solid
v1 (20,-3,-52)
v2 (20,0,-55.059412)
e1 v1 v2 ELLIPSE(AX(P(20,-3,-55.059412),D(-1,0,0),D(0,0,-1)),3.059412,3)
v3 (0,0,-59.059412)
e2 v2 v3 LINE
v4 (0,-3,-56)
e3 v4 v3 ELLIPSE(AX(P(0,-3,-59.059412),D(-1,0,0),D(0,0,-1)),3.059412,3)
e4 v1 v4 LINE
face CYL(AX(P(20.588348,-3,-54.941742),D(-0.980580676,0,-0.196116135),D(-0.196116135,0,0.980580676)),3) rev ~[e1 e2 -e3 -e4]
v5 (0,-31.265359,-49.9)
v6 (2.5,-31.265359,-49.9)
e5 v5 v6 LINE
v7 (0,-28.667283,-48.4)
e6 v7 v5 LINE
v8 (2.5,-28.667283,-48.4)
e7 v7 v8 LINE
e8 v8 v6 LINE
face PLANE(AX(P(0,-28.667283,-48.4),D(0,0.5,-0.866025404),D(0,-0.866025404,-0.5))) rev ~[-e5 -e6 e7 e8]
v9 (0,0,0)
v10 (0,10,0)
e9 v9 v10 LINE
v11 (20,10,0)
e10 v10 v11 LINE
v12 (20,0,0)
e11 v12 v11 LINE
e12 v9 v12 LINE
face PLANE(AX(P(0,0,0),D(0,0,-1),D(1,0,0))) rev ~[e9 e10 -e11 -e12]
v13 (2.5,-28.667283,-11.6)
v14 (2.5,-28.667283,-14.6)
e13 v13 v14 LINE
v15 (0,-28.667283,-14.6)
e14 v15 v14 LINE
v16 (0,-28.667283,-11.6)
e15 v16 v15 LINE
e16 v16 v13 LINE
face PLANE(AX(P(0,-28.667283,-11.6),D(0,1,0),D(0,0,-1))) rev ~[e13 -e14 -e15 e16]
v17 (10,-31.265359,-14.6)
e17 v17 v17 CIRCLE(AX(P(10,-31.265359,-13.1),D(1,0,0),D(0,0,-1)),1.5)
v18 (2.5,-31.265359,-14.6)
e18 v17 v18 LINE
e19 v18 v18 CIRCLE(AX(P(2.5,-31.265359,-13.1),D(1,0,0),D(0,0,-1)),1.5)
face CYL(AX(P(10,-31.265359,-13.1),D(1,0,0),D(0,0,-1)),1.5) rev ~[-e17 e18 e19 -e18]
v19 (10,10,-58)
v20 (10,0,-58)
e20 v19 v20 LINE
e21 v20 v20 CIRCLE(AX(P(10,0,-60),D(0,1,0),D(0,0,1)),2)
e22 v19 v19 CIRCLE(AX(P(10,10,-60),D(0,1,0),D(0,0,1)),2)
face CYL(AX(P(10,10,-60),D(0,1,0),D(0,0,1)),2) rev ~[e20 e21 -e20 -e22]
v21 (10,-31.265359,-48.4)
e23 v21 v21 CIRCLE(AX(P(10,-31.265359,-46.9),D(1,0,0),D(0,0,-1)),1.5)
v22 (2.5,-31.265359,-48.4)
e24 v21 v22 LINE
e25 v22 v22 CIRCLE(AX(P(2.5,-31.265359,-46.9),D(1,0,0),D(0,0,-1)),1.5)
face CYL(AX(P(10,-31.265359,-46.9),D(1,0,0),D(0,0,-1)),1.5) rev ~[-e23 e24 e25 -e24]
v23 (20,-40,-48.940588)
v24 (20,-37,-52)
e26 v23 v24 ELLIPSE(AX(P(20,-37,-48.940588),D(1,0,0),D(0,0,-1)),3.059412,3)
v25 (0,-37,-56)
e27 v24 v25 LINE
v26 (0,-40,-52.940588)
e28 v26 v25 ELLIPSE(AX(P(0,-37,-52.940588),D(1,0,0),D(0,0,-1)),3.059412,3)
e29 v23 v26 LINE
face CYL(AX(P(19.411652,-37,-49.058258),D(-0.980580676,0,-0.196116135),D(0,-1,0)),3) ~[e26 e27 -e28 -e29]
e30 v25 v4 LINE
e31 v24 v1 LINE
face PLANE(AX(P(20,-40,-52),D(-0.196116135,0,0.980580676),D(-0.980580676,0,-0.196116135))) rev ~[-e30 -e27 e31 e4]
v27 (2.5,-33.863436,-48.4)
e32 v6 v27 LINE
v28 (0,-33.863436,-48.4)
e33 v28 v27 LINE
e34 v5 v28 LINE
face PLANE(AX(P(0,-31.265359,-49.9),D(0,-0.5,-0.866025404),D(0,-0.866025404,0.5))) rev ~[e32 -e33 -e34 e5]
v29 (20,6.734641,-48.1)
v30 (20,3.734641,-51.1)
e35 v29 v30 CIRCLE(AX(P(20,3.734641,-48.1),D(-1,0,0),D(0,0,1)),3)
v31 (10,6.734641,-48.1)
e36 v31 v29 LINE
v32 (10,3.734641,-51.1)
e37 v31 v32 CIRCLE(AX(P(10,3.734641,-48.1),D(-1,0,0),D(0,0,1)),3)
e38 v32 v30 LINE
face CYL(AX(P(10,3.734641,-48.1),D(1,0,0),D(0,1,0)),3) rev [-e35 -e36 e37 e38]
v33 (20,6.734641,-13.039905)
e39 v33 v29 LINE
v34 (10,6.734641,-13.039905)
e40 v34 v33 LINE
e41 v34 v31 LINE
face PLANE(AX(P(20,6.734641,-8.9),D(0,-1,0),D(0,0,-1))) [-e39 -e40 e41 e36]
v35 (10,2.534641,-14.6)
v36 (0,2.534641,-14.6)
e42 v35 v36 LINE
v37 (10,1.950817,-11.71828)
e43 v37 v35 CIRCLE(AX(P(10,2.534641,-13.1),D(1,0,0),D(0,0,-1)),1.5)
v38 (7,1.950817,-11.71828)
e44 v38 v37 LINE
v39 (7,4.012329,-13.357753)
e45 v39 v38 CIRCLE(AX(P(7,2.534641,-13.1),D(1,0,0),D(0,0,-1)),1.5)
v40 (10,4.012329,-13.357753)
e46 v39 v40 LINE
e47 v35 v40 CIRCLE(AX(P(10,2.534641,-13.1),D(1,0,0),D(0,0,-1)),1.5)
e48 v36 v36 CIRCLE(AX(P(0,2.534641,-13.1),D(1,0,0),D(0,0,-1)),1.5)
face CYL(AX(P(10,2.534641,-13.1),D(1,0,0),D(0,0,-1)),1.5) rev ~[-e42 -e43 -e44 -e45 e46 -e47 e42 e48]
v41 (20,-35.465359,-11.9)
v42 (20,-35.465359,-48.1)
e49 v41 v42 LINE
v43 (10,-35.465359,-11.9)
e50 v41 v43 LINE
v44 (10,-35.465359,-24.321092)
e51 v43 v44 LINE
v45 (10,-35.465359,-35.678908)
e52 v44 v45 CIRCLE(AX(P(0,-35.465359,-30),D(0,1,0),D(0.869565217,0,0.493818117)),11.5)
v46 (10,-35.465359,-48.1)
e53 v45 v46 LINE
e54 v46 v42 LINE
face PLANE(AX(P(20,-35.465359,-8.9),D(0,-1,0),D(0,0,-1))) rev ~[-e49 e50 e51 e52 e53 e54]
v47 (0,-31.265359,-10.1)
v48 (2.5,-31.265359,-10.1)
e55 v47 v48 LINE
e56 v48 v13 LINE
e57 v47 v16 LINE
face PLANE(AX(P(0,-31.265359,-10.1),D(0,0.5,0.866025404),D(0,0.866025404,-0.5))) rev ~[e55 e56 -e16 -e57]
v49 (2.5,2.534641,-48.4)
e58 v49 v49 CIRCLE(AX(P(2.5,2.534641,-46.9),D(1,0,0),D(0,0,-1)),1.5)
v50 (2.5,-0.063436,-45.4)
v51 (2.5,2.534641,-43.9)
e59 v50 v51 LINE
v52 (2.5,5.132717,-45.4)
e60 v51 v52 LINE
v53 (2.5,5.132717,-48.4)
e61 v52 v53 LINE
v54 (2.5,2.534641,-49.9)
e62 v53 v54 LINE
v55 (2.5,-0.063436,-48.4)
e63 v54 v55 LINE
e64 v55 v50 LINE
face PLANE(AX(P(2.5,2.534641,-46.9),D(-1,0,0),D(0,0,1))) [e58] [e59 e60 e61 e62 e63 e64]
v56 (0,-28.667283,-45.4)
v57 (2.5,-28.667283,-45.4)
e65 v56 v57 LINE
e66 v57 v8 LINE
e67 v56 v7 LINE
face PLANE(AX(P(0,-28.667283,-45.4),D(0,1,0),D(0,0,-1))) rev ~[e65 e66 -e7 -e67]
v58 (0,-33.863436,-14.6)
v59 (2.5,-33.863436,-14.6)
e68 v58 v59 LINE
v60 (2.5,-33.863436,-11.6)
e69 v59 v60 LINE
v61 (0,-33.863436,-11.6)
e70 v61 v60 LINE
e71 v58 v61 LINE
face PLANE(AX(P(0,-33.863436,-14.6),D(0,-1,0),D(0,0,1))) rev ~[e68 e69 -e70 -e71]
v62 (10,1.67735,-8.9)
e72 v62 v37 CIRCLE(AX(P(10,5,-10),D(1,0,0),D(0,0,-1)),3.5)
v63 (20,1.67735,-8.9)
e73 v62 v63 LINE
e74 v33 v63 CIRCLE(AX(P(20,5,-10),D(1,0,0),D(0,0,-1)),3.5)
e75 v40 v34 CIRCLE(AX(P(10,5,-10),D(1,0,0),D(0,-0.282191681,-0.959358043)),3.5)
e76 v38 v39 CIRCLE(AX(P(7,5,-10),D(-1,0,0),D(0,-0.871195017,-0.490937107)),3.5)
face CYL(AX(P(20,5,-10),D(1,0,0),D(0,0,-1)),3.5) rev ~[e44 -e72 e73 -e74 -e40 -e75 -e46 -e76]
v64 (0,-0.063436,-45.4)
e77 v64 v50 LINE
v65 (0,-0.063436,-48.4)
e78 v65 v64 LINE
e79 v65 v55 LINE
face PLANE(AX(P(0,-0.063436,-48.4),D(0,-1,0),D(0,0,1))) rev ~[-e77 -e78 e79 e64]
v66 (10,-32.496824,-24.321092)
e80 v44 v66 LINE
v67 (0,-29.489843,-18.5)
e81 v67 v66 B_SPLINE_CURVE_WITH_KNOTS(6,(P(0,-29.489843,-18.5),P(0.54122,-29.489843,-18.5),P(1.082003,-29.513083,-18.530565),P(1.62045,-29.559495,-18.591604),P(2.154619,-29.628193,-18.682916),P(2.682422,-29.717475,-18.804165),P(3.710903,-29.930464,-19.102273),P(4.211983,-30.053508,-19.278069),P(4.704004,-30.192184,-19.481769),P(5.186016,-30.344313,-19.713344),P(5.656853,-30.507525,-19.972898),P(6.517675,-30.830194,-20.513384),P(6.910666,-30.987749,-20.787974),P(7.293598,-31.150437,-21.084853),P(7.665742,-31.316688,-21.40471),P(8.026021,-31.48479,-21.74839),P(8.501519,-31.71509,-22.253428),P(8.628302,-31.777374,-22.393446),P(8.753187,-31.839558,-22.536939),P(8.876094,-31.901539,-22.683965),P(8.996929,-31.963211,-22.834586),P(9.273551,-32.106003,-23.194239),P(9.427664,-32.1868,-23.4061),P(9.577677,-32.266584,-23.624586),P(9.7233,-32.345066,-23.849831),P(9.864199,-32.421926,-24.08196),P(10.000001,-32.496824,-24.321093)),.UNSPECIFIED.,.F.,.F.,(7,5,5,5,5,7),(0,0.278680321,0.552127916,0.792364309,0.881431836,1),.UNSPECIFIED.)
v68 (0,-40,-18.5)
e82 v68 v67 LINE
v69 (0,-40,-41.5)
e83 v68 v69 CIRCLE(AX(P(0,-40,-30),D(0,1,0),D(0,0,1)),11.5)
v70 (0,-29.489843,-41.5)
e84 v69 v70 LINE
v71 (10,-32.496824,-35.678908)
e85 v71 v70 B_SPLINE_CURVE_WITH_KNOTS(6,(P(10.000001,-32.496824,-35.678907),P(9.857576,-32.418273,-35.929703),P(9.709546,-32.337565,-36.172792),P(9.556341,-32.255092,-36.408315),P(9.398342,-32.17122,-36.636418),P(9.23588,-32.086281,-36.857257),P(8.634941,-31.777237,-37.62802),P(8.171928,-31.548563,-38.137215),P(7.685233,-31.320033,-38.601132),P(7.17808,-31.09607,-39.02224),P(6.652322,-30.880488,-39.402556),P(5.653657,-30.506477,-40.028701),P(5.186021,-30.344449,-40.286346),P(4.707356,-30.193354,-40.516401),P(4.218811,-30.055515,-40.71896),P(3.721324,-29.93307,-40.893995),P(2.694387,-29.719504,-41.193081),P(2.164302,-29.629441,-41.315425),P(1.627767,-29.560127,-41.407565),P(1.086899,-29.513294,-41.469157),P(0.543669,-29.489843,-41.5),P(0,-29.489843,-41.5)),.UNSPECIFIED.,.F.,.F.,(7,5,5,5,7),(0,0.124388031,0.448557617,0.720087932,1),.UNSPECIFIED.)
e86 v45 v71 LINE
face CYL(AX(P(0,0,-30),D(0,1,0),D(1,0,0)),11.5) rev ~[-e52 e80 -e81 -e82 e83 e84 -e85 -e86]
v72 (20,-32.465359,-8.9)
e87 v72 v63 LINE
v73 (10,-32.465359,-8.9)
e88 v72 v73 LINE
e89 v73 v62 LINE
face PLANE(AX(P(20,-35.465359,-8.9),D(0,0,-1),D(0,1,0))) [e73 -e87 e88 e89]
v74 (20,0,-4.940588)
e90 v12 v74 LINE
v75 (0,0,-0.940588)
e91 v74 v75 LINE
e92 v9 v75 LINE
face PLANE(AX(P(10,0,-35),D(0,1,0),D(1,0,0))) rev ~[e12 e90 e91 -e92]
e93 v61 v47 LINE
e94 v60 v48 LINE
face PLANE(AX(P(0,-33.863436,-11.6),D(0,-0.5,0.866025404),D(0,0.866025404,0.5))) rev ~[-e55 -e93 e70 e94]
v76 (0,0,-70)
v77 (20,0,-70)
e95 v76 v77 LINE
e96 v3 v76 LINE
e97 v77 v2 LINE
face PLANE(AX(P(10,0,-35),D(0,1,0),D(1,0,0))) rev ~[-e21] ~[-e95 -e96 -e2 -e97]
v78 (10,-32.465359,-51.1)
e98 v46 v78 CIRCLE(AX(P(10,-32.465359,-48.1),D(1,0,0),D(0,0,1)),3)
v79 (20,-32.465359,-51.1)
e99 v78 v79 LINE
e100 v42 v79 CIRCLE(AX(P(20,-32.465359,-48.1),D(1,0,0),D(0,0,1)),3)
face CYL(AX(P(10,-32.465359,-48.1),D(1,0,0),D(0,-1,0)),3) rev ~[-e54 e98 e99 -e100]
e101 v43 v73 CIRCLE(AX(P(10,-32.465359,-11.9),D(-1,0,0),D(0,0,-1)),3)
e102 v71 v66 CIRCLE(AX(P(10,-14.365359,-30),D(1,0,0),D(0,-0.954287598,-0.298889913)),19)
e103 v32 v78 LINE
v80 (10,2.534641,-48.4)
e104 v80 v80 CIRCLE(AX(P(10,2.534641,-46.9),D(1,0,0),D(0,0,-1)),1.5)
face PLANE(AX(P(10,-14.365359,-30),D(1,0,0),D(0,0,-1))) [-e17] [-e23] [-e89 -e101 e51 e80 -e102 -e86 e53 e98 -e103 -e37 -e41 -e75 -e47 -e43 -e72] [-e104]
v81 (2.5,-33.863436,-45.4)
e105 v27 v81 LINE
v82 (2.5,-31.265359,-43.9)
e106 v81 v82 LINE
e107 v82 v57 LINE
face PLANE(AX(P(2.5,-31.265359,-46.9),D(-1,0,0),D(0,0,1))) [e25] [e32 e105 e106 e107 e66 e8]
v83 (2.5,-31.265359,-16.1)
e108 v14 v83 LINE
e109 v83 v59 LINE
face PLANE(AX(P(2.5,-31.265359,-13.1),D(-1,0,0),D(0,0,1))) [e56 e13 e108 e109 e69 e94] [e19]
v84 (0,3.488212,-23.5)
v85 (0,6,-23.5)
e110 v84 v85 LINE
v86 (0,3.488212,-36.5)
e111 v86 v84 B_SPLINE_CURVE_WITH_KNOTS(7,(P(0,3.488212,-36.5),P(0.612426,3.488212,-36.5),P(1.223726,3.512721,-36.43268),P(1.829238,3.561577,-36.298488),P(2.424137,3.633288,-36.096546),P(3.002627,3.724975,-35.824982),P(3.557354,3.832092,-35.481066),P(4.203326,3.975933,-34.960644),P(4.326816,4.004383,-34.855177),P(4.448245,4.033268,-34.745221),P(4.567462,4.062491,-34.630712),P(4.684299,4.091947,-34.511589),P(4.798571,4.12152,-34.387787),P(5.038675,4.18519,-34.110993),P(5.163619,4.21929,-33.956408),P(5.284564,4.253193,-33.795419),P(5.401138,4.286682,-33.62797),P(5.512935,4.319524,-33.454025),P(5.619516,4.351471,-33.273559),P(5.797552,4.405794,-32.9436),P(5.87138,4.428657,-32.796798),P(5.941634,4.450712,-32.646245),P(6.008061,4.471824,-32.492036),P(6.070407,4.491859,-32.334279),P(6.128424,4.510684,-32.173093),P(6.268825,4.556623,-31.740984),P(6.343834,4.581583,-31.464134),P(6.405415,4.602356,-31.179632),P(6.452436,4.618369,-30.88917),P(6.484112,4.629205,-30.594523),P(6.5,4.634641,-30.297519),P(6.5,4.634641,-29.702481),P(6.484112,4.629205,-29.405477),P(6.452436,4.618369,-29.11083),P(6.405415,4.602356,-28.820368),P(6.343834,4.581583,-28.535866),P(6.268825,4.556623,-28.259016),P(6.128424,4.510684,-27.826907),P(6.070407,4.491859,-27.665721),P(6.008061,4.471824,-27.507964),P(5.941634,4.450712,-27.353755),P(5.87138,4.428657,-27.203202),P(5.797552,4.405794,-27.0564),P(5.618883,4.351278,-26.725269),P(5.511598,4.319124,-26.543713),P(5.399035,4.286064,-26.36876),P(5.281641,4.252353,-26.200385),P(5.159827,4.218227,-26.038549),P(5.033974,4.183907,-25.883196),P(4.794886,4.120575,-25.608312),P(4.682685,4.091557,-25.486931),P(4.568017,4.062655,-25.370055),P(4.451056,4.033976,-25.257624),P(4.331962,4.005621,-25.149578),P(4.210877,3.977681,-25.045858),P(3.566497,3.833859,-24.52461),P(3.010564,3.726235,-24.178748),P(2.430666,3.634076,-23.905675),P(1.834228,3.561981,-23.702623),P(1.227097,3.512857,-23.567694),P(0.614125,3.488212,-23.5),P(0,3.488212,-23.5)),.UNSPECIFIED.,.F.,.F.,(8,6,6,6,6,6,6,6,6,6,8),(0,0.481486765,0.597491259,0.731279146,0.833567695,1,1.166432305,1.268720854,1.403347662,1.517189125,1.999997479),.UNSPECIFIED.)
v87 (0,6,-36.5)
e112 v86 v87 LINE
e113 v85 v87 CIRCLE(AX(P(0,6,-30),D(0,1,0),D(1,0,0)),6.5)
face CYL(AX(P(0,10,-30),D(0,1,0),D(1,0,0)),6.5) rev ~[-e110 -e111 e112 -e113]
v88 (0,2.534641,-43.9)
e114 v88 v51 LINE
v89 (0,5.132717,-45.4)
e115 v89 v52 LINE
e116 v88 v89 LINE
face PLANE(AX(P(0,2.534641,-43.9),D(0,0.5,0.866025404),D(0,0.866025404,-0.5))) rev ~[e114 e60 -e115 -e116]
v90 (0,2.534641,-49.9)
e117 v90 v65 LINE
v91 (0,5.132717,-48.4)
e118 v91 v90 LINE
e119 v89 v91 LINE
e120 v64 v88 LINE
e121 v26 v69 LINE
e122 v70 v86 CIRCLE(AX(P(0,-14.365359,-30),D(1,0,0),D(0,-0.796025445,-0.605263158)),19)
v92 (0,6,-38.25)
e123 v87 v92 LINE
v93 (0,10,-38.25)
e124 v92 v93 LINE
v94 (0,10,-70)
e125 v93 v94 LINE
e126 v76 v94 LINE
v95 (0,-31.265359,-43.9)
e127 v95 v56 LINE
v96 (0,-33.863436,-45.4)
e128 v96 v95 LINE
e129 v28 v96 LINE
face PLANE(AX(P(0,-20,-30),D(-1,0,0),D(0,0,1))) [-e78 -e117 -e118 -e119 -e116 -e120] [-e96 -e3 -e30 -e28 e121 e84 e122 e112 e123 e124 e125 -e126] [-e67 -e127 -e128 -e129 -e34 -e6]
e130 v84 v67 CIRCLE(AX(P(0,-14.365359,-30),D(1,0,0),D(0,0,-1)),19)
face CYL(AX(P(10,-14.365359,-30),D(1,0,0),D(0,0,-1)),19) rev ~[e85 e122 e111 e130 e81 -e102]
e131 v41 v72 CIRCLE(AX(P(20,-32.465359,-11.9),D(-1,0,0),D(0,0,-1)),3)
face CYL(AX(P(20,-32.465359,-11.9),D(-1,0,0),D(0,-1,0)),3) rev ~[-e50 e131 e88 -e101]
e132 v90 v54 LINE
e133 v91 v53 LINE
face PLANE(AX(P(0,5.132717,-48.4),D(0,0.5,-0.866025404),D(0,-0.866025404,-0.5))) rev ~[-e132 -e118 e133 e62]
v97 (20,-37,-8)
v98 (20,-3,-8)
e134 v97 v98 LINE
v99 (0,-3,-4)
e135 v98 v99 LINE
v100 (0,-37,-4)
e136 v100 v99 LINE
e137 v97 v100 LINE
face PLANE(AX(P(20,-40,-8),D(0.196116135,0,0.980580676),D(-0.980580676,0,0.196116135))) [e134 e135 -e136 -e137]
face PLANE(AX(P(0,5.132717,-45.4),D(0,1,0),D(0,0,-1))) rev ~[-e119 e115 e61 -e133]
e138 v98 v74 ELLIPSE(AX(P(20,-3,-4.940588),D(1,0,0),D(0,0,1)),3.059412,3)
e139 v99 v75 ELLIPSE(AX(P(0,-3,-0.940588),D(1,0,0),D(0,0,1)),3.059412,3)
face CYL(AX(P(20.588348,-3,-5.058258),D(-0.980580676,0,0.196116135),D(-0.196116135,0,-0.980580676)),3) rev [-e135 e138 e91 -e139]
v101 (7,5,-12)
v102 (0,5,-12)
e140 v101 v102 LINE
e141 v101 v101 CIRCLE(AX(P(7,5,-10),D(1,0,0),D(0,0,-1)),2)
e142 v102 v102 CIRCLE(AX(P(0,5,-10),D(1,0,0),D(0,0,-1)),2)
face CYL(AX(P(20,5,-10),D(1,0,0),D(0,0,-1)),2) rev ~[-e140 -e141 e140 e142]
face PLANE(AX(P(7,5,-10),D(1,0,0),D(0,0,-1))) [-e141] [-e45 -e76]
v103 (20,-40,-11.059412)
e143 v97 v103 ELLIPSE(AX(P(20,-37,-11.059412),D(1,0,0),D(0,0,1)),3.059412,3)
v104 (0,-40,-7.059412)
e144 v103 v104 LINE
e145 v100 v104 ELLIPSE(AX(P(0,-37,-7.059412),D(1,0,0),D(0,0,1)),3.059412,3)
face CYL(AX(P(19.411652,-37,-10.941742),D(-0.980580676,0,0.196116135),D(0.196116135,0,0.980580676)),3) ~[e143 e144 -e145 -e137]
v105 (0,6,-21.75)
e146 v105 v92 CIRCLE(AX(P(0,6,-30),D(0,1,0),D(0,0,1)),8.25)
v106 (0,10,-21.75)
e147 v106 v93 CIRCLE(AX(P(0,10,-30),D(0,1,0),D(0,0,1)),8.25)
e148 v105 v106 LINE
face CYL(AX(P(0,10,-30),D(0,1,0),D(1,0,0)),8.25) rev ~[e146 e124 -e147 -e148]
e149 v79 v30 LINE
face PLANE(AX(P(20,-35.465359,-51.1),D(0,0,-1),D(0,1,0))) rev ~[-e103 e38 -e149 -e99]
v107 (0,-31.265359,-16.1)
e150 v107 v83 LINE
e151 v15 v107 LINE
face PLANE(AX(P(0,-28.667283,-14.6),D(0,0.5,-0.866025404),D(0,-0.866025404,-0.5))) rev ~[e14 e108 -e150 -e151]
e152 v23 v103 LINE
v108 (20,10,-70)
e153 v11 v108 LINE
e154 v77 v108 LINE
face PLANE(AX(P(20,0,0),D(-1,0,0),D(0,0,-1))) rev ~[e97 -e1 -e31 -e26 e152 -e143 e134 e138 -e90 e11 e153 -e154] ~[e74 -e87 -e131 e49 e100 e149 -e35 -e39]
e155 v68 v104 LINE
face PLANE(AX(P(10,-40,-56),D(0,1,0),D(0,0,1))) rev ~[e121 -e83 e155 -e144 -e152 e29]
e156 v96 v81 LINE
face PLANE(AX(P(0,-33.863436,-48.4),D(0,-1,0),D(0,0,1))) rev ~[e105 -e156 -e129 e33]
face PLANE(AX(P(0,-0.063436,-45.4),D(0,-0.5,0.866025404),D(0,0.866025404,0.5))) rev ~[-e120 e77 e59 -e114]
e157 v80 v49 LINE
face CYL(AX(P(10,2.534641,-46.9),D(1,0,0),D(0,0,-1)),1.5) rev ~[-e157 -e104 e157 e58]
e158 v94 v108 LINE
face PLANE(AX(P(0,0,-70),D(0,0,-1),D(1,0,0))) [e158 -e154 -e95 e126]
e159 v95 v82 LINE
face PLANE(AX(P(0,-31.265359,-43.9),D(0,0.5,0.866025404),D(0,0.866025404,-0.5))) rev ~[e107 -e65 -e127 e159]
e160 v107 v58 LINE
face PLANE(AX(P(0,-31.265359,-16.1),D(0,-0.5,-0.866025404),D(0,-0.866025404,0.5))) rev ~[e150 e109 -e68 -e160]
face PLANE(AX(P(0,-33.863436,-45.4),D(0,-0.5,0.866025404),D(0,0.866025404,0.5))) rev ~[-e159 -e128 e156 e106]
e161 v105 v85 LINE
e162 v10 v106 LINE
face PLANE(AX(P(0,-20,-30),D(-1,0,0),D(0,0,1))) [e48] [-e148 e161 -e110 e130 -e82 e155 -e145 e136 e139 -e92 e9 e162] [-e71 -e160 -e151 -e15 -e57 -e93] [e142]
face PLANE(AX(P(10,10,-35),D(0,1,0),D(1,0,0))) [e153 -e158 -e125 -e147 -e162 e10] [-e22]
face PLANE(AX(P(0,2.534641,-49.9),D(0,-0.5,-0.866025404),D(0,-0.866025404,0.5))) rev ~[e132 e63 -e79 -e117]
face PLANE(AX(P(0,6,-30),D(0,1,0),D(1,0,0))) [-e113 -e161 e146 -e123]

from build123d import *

# Parameters (mm, degrees)
SKETCH1_W           = 20
SKETCH1_H           = 70
BOSS_EXTRUDE1_DEPTH = 20
SKETCH4_W           = 20
SKETCH4_H           = 70
CUT_EXTRUDE3_DEPTH  = 10
SKETCH5_R           = 6.5
CUT_EXTRUDE4_DEPTH  = 10
SKETCH6_R           = 8.25
CUT_EXTRUDE5_DEPTH  = 4
SKETCH7_R           = 2
CUT_EXTRUDE6_DEPTH  = 20
SKETCH8_R           = 2
CUT_EXTRUDE7_DEPTH  = 20
SKETCH9_W           = 10
SKETCH9_H           = 52
BOSS_EXTRUDE2_DEPTH = 52
SKETCH10_W          = 10
SKETCH10_H          = 52
CUT_EXTRUDE8_DEPTH  = 12
SKETCH11_W          = 42.2
SKETCH11_H          = 42.2
CUT_EXTRUDE9_DEPTH  = 5
SKETCH12_W          = 42.2
SKETCH12_H          = 42.2
CUT_EXTRUDE10_DEPTH = 5
SKETCH13_W          = 52
SKETCH13_H          = 40
BOSS_EXTRUDE3_DEPTH = 10
SKETCH14_R          = 11.5
CUT_EXTRUDE11_DEPTH = 100
SKETCH16_R          = 19
CUT_EXTRUDE12_DEPTH = 100
SKETCH17_R          = 1.5
CUT_EXTRUDE13_DEPTH = 100
CUT_EXTRUDE14_DEPTH = 40
FILLET1_R           = 3
FILLET2_R           = 3
FILLET3_R           = 3
FILLET4_R           = 3
FILLET5_R           = 3
FILLET6_R           = 3
FILLET7_R           = 3
CUT_EXTRUDE15_DEPTH = 2.5
SKETCH21_R          = 3.5
CUT_EXTRUDE16_DEPTH = 13


with BuildPart() as part:
    # Sketch1 → Boss-Extrude1 (new body)
    with BuildSketch(Plane(origin=(0, 0, 0), x_dir=(1, 0, 0), z_dir=(0, 1, 0))):
        with Locations((10, 35)):
            Rectangle(SKETCH1_W, SKETCH1_H)
    extrude(amount=BOSS_EXTRUDE1_DEPTH)

    # Sketch4 → Cut-Extrude3 (cut)
    with BuildSketch(Plane(origin=(0, 20, 0), x_dir=(1, 0, 0), z_dir=(0, 1, 0))):
        with Locations((10, 35)):
            Rectangle(SKETCH4_W, SKETCH4_H)
    extrude(amount=-CUT_EXTRUDE3_DEPTH, mode=Mode.SUBTRACT)

    # Sketch5 → Cut-Extrude4 (cut)
    with BuildSketch(Plane(origin=(0, 10, 0), x_dir=(1, 0, 0), z_dir=(0, 1, 0))):
        with Locations((0, 30)):
            Circle(SKETCH5_R)
    extrude(amount=-CUT_EXTRUDE4_DEPTH, mode=Mode.SUBTRACT)

    # Sketch6 → Cut-Extrude5 (cut)
    with BuildSketch(Plane(origin=(0, 10, 0), x_dir=(1, 0, 0), z_dir=(0, 1, 0))):
        with Locations((0, 30)):
            Circle(SKETCH6_R)
    extrude(amount=-CUT_EXTRUDE5_DEPTH, mode=Mode.SUBTRACT)

    # Sketch7 → Cut-Extrude6 (cut)
    with BuildSketch(Plane(origin=(20, 0, 0), x_dir=(0, 0, -1), z_dir=(1, 0, 0))):
        with Locations((10, 5)):
            Circle(SKETCH7_R)
    extrude(amount=-CUT_EXTRUDE6_DEPTH, mode=Mode.SUBTRACT)

    # Sketch8 → Cut-Extrude7 (cut)
    with BuildSketch(Plane(origin=(0, 10, 0), x_dir=(1, 0, 0), z_dir=(0, 1, 0))):
        with Locations(Location((10, 60, 0), (0, 0, 270))):
            Circle(SKETCH8_R)
    extrude(amount=-CUT_EXTRUDE7_DEPTH, mode=Mode.SUBTRACT)

    # Sketch9 → Boss-Extrude2 (add)
    with BuildSketch(Plane.XZ):
        with Locations((15, -30)):
            Rectangle(SKETCH9_W, SKETCH9_H)
    extrude(amount=BOSS_EXTRUDE2_DEPTH)

    # Sketch10 → Cut-Extrude8 (cut)
    with BuildSketch(Plane.XZ.offset(52)):
        with Locations((15, -30)):
            Rectangle(SKETCH10_W, SKETCH10_H)
    extrude(amount=-CUT_EXTRUDE8_DEPTH, mode=Mode.SUBTRACT)

    # Sketch11 → Cut-Extrude9 (cut)
    with BuildSketch(Plane(origin=(20, 0, 0), x_dir=(0, 0, -1), z_dir=(1, 0, 0))):
        with Locations((30, -14.365359388)):
            Rectangle(SKETCH11_W, SKETCH11_H)
    extrude(amount=-CUT_EXTRUDE9_DEPTH, mode=Mode.SUBTRACT)

    # Sketch12 → Cut-Extrude10 (cut)
    with BuildSketch(Plane(origin=(15, 0, 0), x_dir=(0, 0, -1), z_dir=(1, 0, 0))):
        with Locations((30, -14.365359388)):
            Rectangle(SKETCH12_W, SKETCH12_H)
    extrude(amount=-CUT_EXTRUDE10_DEPTH, mode=Mode.SUBTRACT)

    # Sketch13 → Boss-Extrude3 (add)
    with BuildSketch(Plane.ZY.offset(-10)):
        with Locations((-30, -20)):
            Rectangle(SKETCH13_W, SKETCH13_H)
    extrude(amount=BOSS_EXTRUDE3_DEPTH)

    # Sketch14 → Cut-Extrude11 (cut)
    with BuildSketch(Plane(origin=(0, 0, 0), x_dir=(1, 0, 0), z_dir=(0, 1, 0))):
        with Locations((0, 30)):
            Circle(SKETCH14_R)
    extrude(amount=-CUT_EXTRUDE11_DEPTH, mode=Mode.SUBTRACT)

    # Sketch16 → Cut-Extrude12 (cut)
    with BuildSketch(Plane(origin=(10, 0, 0), x_dir=(0, 0, -1), z_dir=(1, 0, 0))):
        with Locations((30, -14.365359388)):
            Circle(SKETCH16_R)
    extrude(amount=-CUT_EXTRUDE12_DEPTH, mode=Mode.SUBTRACT)

    # Sketch17 → Cut-Extrude13 (cut)
    with BuildSketch(Plane(origin=(10, 0, 0), x_dir=(0, 0, -1), z_dir=(1, 0, 0))):
        with Locations((13.1, 2.534640612)):
            Circle(SKETCH17_R)
        with Locations((46.9, 2.534640612)):
            Circle(SKETCH17_R)
        with Locations((13.1, -31.265359388)):
            Circle(SKETCH17_R)
        with Locations((46.9, -31.265359388)):
            Circle(SKETCH17_R)
    extrude(amount=-CUT_EXTRUDE13_DEPTH, mode=Mode.SUBTRACT)

    # Sketch19 → Cut-Extrude14 (cut)
    with BuildSketch(Plane.XZ.offset(40)):
        Polygon((20, -56), (20, -52), (0, -56), align=None)
        Polygon((20, -4), (20, -8), (0, -4), align=None)
    extrude(amount=-CUT_EXTRUDE14_DEPTH, mode=Mode.SUBTRACT)

    # Fillet1
    fillet1_edges = [part.edges().sort_by_distance(p)[0] for p in [
        (10, -40, -6),
    ]]
    fillet(fillet1_edges, radius=FILLET1_R)

    # Fillet2
    fillet2_edges = [part.edges().sort_by_distance(p)[0] for p in [
        (10, -40, -54),
    ]]
    fillet(fillet2_edges, radius=FILLET2_R)

    # Fillet3
    fillet3_edges = [part.edges().sort_by_distance(p)[0] for p in [
        (10, 0, -54),
    ]]
    fillet(fillet3_edges, radius=FILLET3_R)

    # Fillet4
    fillet4_edges = [part.edges().sort_by_distance(p)[0] for p in [
        (10, 0, -6),
    ]]
    fillet(fillet4_edges, radius=FILLET4_R)

    # Fillet5
    fillet5_edges = [part.edges().sort_by_distance(p)[0] for p in [
        (15, 6.734640612, -51.1),
    ]]
    fillet(fillet5_edges, radius=FILLET5_R)

    # Fillet6
    fillet6_edges = [part.edges().sort_by_distance(p)[0] for p in [
        (15, -35.465359388, -8.9),
    ]]
    fillet(fillet6_edges, radius=FILLET6_R)

    # Fillet7
    fillet7_edges = [part.edges().sort_by_distance(p)[0] for p in [
        (15, -35.465359388, -51.1),
    ]]
    fillet(fillet7_edges, radius=FILLET7_R)

    # Sketch20 → Cut-Extrude15 (cut)
    with BuildSketch(Plane.ZY):
        Polygon((-16.1, -31.265359388), (-14.6, -33.8634356), (-11.6, -33.8634356), (-10.1, -31.265359388), (-11.6, -28.667283177), (-14.6, -28.667283177), align=None)
        Polygon((-49.9, -31.265359388), (-48.4, -33.8634356), (-45.4, -33.8634356), (-43.9, -31.265359388), (-45.4, -28.667283177), (-48.4, -28.667283177), align=None)
        Polygon((-49.9, 2.534640612), (-48.4, -0.0634356), (-45.4, -0.0634356), (-43.9, 2.534640612), (-45.4, 5.132716823), (-48.4, 5.132716823), align=None)
    extrude(amount=-CUT_EXTRUDE15_DEPTH, mode=Mode.SUBTRACT)

    # Sketch21 → Cut-Extrude16 (cut)
    with BuildSketch(Plane(origin=(20, 0, 0), x_dir=(0, 0, -1), z_dir=(1, 0, 0))):
        with Locations((10, 5)):
            Circle(SKETCH21_R)
    extrude(amount=-CUT_EXTRUDE16_DEPTH, mode=Mode.SUBTRACT)


solid = part.part
